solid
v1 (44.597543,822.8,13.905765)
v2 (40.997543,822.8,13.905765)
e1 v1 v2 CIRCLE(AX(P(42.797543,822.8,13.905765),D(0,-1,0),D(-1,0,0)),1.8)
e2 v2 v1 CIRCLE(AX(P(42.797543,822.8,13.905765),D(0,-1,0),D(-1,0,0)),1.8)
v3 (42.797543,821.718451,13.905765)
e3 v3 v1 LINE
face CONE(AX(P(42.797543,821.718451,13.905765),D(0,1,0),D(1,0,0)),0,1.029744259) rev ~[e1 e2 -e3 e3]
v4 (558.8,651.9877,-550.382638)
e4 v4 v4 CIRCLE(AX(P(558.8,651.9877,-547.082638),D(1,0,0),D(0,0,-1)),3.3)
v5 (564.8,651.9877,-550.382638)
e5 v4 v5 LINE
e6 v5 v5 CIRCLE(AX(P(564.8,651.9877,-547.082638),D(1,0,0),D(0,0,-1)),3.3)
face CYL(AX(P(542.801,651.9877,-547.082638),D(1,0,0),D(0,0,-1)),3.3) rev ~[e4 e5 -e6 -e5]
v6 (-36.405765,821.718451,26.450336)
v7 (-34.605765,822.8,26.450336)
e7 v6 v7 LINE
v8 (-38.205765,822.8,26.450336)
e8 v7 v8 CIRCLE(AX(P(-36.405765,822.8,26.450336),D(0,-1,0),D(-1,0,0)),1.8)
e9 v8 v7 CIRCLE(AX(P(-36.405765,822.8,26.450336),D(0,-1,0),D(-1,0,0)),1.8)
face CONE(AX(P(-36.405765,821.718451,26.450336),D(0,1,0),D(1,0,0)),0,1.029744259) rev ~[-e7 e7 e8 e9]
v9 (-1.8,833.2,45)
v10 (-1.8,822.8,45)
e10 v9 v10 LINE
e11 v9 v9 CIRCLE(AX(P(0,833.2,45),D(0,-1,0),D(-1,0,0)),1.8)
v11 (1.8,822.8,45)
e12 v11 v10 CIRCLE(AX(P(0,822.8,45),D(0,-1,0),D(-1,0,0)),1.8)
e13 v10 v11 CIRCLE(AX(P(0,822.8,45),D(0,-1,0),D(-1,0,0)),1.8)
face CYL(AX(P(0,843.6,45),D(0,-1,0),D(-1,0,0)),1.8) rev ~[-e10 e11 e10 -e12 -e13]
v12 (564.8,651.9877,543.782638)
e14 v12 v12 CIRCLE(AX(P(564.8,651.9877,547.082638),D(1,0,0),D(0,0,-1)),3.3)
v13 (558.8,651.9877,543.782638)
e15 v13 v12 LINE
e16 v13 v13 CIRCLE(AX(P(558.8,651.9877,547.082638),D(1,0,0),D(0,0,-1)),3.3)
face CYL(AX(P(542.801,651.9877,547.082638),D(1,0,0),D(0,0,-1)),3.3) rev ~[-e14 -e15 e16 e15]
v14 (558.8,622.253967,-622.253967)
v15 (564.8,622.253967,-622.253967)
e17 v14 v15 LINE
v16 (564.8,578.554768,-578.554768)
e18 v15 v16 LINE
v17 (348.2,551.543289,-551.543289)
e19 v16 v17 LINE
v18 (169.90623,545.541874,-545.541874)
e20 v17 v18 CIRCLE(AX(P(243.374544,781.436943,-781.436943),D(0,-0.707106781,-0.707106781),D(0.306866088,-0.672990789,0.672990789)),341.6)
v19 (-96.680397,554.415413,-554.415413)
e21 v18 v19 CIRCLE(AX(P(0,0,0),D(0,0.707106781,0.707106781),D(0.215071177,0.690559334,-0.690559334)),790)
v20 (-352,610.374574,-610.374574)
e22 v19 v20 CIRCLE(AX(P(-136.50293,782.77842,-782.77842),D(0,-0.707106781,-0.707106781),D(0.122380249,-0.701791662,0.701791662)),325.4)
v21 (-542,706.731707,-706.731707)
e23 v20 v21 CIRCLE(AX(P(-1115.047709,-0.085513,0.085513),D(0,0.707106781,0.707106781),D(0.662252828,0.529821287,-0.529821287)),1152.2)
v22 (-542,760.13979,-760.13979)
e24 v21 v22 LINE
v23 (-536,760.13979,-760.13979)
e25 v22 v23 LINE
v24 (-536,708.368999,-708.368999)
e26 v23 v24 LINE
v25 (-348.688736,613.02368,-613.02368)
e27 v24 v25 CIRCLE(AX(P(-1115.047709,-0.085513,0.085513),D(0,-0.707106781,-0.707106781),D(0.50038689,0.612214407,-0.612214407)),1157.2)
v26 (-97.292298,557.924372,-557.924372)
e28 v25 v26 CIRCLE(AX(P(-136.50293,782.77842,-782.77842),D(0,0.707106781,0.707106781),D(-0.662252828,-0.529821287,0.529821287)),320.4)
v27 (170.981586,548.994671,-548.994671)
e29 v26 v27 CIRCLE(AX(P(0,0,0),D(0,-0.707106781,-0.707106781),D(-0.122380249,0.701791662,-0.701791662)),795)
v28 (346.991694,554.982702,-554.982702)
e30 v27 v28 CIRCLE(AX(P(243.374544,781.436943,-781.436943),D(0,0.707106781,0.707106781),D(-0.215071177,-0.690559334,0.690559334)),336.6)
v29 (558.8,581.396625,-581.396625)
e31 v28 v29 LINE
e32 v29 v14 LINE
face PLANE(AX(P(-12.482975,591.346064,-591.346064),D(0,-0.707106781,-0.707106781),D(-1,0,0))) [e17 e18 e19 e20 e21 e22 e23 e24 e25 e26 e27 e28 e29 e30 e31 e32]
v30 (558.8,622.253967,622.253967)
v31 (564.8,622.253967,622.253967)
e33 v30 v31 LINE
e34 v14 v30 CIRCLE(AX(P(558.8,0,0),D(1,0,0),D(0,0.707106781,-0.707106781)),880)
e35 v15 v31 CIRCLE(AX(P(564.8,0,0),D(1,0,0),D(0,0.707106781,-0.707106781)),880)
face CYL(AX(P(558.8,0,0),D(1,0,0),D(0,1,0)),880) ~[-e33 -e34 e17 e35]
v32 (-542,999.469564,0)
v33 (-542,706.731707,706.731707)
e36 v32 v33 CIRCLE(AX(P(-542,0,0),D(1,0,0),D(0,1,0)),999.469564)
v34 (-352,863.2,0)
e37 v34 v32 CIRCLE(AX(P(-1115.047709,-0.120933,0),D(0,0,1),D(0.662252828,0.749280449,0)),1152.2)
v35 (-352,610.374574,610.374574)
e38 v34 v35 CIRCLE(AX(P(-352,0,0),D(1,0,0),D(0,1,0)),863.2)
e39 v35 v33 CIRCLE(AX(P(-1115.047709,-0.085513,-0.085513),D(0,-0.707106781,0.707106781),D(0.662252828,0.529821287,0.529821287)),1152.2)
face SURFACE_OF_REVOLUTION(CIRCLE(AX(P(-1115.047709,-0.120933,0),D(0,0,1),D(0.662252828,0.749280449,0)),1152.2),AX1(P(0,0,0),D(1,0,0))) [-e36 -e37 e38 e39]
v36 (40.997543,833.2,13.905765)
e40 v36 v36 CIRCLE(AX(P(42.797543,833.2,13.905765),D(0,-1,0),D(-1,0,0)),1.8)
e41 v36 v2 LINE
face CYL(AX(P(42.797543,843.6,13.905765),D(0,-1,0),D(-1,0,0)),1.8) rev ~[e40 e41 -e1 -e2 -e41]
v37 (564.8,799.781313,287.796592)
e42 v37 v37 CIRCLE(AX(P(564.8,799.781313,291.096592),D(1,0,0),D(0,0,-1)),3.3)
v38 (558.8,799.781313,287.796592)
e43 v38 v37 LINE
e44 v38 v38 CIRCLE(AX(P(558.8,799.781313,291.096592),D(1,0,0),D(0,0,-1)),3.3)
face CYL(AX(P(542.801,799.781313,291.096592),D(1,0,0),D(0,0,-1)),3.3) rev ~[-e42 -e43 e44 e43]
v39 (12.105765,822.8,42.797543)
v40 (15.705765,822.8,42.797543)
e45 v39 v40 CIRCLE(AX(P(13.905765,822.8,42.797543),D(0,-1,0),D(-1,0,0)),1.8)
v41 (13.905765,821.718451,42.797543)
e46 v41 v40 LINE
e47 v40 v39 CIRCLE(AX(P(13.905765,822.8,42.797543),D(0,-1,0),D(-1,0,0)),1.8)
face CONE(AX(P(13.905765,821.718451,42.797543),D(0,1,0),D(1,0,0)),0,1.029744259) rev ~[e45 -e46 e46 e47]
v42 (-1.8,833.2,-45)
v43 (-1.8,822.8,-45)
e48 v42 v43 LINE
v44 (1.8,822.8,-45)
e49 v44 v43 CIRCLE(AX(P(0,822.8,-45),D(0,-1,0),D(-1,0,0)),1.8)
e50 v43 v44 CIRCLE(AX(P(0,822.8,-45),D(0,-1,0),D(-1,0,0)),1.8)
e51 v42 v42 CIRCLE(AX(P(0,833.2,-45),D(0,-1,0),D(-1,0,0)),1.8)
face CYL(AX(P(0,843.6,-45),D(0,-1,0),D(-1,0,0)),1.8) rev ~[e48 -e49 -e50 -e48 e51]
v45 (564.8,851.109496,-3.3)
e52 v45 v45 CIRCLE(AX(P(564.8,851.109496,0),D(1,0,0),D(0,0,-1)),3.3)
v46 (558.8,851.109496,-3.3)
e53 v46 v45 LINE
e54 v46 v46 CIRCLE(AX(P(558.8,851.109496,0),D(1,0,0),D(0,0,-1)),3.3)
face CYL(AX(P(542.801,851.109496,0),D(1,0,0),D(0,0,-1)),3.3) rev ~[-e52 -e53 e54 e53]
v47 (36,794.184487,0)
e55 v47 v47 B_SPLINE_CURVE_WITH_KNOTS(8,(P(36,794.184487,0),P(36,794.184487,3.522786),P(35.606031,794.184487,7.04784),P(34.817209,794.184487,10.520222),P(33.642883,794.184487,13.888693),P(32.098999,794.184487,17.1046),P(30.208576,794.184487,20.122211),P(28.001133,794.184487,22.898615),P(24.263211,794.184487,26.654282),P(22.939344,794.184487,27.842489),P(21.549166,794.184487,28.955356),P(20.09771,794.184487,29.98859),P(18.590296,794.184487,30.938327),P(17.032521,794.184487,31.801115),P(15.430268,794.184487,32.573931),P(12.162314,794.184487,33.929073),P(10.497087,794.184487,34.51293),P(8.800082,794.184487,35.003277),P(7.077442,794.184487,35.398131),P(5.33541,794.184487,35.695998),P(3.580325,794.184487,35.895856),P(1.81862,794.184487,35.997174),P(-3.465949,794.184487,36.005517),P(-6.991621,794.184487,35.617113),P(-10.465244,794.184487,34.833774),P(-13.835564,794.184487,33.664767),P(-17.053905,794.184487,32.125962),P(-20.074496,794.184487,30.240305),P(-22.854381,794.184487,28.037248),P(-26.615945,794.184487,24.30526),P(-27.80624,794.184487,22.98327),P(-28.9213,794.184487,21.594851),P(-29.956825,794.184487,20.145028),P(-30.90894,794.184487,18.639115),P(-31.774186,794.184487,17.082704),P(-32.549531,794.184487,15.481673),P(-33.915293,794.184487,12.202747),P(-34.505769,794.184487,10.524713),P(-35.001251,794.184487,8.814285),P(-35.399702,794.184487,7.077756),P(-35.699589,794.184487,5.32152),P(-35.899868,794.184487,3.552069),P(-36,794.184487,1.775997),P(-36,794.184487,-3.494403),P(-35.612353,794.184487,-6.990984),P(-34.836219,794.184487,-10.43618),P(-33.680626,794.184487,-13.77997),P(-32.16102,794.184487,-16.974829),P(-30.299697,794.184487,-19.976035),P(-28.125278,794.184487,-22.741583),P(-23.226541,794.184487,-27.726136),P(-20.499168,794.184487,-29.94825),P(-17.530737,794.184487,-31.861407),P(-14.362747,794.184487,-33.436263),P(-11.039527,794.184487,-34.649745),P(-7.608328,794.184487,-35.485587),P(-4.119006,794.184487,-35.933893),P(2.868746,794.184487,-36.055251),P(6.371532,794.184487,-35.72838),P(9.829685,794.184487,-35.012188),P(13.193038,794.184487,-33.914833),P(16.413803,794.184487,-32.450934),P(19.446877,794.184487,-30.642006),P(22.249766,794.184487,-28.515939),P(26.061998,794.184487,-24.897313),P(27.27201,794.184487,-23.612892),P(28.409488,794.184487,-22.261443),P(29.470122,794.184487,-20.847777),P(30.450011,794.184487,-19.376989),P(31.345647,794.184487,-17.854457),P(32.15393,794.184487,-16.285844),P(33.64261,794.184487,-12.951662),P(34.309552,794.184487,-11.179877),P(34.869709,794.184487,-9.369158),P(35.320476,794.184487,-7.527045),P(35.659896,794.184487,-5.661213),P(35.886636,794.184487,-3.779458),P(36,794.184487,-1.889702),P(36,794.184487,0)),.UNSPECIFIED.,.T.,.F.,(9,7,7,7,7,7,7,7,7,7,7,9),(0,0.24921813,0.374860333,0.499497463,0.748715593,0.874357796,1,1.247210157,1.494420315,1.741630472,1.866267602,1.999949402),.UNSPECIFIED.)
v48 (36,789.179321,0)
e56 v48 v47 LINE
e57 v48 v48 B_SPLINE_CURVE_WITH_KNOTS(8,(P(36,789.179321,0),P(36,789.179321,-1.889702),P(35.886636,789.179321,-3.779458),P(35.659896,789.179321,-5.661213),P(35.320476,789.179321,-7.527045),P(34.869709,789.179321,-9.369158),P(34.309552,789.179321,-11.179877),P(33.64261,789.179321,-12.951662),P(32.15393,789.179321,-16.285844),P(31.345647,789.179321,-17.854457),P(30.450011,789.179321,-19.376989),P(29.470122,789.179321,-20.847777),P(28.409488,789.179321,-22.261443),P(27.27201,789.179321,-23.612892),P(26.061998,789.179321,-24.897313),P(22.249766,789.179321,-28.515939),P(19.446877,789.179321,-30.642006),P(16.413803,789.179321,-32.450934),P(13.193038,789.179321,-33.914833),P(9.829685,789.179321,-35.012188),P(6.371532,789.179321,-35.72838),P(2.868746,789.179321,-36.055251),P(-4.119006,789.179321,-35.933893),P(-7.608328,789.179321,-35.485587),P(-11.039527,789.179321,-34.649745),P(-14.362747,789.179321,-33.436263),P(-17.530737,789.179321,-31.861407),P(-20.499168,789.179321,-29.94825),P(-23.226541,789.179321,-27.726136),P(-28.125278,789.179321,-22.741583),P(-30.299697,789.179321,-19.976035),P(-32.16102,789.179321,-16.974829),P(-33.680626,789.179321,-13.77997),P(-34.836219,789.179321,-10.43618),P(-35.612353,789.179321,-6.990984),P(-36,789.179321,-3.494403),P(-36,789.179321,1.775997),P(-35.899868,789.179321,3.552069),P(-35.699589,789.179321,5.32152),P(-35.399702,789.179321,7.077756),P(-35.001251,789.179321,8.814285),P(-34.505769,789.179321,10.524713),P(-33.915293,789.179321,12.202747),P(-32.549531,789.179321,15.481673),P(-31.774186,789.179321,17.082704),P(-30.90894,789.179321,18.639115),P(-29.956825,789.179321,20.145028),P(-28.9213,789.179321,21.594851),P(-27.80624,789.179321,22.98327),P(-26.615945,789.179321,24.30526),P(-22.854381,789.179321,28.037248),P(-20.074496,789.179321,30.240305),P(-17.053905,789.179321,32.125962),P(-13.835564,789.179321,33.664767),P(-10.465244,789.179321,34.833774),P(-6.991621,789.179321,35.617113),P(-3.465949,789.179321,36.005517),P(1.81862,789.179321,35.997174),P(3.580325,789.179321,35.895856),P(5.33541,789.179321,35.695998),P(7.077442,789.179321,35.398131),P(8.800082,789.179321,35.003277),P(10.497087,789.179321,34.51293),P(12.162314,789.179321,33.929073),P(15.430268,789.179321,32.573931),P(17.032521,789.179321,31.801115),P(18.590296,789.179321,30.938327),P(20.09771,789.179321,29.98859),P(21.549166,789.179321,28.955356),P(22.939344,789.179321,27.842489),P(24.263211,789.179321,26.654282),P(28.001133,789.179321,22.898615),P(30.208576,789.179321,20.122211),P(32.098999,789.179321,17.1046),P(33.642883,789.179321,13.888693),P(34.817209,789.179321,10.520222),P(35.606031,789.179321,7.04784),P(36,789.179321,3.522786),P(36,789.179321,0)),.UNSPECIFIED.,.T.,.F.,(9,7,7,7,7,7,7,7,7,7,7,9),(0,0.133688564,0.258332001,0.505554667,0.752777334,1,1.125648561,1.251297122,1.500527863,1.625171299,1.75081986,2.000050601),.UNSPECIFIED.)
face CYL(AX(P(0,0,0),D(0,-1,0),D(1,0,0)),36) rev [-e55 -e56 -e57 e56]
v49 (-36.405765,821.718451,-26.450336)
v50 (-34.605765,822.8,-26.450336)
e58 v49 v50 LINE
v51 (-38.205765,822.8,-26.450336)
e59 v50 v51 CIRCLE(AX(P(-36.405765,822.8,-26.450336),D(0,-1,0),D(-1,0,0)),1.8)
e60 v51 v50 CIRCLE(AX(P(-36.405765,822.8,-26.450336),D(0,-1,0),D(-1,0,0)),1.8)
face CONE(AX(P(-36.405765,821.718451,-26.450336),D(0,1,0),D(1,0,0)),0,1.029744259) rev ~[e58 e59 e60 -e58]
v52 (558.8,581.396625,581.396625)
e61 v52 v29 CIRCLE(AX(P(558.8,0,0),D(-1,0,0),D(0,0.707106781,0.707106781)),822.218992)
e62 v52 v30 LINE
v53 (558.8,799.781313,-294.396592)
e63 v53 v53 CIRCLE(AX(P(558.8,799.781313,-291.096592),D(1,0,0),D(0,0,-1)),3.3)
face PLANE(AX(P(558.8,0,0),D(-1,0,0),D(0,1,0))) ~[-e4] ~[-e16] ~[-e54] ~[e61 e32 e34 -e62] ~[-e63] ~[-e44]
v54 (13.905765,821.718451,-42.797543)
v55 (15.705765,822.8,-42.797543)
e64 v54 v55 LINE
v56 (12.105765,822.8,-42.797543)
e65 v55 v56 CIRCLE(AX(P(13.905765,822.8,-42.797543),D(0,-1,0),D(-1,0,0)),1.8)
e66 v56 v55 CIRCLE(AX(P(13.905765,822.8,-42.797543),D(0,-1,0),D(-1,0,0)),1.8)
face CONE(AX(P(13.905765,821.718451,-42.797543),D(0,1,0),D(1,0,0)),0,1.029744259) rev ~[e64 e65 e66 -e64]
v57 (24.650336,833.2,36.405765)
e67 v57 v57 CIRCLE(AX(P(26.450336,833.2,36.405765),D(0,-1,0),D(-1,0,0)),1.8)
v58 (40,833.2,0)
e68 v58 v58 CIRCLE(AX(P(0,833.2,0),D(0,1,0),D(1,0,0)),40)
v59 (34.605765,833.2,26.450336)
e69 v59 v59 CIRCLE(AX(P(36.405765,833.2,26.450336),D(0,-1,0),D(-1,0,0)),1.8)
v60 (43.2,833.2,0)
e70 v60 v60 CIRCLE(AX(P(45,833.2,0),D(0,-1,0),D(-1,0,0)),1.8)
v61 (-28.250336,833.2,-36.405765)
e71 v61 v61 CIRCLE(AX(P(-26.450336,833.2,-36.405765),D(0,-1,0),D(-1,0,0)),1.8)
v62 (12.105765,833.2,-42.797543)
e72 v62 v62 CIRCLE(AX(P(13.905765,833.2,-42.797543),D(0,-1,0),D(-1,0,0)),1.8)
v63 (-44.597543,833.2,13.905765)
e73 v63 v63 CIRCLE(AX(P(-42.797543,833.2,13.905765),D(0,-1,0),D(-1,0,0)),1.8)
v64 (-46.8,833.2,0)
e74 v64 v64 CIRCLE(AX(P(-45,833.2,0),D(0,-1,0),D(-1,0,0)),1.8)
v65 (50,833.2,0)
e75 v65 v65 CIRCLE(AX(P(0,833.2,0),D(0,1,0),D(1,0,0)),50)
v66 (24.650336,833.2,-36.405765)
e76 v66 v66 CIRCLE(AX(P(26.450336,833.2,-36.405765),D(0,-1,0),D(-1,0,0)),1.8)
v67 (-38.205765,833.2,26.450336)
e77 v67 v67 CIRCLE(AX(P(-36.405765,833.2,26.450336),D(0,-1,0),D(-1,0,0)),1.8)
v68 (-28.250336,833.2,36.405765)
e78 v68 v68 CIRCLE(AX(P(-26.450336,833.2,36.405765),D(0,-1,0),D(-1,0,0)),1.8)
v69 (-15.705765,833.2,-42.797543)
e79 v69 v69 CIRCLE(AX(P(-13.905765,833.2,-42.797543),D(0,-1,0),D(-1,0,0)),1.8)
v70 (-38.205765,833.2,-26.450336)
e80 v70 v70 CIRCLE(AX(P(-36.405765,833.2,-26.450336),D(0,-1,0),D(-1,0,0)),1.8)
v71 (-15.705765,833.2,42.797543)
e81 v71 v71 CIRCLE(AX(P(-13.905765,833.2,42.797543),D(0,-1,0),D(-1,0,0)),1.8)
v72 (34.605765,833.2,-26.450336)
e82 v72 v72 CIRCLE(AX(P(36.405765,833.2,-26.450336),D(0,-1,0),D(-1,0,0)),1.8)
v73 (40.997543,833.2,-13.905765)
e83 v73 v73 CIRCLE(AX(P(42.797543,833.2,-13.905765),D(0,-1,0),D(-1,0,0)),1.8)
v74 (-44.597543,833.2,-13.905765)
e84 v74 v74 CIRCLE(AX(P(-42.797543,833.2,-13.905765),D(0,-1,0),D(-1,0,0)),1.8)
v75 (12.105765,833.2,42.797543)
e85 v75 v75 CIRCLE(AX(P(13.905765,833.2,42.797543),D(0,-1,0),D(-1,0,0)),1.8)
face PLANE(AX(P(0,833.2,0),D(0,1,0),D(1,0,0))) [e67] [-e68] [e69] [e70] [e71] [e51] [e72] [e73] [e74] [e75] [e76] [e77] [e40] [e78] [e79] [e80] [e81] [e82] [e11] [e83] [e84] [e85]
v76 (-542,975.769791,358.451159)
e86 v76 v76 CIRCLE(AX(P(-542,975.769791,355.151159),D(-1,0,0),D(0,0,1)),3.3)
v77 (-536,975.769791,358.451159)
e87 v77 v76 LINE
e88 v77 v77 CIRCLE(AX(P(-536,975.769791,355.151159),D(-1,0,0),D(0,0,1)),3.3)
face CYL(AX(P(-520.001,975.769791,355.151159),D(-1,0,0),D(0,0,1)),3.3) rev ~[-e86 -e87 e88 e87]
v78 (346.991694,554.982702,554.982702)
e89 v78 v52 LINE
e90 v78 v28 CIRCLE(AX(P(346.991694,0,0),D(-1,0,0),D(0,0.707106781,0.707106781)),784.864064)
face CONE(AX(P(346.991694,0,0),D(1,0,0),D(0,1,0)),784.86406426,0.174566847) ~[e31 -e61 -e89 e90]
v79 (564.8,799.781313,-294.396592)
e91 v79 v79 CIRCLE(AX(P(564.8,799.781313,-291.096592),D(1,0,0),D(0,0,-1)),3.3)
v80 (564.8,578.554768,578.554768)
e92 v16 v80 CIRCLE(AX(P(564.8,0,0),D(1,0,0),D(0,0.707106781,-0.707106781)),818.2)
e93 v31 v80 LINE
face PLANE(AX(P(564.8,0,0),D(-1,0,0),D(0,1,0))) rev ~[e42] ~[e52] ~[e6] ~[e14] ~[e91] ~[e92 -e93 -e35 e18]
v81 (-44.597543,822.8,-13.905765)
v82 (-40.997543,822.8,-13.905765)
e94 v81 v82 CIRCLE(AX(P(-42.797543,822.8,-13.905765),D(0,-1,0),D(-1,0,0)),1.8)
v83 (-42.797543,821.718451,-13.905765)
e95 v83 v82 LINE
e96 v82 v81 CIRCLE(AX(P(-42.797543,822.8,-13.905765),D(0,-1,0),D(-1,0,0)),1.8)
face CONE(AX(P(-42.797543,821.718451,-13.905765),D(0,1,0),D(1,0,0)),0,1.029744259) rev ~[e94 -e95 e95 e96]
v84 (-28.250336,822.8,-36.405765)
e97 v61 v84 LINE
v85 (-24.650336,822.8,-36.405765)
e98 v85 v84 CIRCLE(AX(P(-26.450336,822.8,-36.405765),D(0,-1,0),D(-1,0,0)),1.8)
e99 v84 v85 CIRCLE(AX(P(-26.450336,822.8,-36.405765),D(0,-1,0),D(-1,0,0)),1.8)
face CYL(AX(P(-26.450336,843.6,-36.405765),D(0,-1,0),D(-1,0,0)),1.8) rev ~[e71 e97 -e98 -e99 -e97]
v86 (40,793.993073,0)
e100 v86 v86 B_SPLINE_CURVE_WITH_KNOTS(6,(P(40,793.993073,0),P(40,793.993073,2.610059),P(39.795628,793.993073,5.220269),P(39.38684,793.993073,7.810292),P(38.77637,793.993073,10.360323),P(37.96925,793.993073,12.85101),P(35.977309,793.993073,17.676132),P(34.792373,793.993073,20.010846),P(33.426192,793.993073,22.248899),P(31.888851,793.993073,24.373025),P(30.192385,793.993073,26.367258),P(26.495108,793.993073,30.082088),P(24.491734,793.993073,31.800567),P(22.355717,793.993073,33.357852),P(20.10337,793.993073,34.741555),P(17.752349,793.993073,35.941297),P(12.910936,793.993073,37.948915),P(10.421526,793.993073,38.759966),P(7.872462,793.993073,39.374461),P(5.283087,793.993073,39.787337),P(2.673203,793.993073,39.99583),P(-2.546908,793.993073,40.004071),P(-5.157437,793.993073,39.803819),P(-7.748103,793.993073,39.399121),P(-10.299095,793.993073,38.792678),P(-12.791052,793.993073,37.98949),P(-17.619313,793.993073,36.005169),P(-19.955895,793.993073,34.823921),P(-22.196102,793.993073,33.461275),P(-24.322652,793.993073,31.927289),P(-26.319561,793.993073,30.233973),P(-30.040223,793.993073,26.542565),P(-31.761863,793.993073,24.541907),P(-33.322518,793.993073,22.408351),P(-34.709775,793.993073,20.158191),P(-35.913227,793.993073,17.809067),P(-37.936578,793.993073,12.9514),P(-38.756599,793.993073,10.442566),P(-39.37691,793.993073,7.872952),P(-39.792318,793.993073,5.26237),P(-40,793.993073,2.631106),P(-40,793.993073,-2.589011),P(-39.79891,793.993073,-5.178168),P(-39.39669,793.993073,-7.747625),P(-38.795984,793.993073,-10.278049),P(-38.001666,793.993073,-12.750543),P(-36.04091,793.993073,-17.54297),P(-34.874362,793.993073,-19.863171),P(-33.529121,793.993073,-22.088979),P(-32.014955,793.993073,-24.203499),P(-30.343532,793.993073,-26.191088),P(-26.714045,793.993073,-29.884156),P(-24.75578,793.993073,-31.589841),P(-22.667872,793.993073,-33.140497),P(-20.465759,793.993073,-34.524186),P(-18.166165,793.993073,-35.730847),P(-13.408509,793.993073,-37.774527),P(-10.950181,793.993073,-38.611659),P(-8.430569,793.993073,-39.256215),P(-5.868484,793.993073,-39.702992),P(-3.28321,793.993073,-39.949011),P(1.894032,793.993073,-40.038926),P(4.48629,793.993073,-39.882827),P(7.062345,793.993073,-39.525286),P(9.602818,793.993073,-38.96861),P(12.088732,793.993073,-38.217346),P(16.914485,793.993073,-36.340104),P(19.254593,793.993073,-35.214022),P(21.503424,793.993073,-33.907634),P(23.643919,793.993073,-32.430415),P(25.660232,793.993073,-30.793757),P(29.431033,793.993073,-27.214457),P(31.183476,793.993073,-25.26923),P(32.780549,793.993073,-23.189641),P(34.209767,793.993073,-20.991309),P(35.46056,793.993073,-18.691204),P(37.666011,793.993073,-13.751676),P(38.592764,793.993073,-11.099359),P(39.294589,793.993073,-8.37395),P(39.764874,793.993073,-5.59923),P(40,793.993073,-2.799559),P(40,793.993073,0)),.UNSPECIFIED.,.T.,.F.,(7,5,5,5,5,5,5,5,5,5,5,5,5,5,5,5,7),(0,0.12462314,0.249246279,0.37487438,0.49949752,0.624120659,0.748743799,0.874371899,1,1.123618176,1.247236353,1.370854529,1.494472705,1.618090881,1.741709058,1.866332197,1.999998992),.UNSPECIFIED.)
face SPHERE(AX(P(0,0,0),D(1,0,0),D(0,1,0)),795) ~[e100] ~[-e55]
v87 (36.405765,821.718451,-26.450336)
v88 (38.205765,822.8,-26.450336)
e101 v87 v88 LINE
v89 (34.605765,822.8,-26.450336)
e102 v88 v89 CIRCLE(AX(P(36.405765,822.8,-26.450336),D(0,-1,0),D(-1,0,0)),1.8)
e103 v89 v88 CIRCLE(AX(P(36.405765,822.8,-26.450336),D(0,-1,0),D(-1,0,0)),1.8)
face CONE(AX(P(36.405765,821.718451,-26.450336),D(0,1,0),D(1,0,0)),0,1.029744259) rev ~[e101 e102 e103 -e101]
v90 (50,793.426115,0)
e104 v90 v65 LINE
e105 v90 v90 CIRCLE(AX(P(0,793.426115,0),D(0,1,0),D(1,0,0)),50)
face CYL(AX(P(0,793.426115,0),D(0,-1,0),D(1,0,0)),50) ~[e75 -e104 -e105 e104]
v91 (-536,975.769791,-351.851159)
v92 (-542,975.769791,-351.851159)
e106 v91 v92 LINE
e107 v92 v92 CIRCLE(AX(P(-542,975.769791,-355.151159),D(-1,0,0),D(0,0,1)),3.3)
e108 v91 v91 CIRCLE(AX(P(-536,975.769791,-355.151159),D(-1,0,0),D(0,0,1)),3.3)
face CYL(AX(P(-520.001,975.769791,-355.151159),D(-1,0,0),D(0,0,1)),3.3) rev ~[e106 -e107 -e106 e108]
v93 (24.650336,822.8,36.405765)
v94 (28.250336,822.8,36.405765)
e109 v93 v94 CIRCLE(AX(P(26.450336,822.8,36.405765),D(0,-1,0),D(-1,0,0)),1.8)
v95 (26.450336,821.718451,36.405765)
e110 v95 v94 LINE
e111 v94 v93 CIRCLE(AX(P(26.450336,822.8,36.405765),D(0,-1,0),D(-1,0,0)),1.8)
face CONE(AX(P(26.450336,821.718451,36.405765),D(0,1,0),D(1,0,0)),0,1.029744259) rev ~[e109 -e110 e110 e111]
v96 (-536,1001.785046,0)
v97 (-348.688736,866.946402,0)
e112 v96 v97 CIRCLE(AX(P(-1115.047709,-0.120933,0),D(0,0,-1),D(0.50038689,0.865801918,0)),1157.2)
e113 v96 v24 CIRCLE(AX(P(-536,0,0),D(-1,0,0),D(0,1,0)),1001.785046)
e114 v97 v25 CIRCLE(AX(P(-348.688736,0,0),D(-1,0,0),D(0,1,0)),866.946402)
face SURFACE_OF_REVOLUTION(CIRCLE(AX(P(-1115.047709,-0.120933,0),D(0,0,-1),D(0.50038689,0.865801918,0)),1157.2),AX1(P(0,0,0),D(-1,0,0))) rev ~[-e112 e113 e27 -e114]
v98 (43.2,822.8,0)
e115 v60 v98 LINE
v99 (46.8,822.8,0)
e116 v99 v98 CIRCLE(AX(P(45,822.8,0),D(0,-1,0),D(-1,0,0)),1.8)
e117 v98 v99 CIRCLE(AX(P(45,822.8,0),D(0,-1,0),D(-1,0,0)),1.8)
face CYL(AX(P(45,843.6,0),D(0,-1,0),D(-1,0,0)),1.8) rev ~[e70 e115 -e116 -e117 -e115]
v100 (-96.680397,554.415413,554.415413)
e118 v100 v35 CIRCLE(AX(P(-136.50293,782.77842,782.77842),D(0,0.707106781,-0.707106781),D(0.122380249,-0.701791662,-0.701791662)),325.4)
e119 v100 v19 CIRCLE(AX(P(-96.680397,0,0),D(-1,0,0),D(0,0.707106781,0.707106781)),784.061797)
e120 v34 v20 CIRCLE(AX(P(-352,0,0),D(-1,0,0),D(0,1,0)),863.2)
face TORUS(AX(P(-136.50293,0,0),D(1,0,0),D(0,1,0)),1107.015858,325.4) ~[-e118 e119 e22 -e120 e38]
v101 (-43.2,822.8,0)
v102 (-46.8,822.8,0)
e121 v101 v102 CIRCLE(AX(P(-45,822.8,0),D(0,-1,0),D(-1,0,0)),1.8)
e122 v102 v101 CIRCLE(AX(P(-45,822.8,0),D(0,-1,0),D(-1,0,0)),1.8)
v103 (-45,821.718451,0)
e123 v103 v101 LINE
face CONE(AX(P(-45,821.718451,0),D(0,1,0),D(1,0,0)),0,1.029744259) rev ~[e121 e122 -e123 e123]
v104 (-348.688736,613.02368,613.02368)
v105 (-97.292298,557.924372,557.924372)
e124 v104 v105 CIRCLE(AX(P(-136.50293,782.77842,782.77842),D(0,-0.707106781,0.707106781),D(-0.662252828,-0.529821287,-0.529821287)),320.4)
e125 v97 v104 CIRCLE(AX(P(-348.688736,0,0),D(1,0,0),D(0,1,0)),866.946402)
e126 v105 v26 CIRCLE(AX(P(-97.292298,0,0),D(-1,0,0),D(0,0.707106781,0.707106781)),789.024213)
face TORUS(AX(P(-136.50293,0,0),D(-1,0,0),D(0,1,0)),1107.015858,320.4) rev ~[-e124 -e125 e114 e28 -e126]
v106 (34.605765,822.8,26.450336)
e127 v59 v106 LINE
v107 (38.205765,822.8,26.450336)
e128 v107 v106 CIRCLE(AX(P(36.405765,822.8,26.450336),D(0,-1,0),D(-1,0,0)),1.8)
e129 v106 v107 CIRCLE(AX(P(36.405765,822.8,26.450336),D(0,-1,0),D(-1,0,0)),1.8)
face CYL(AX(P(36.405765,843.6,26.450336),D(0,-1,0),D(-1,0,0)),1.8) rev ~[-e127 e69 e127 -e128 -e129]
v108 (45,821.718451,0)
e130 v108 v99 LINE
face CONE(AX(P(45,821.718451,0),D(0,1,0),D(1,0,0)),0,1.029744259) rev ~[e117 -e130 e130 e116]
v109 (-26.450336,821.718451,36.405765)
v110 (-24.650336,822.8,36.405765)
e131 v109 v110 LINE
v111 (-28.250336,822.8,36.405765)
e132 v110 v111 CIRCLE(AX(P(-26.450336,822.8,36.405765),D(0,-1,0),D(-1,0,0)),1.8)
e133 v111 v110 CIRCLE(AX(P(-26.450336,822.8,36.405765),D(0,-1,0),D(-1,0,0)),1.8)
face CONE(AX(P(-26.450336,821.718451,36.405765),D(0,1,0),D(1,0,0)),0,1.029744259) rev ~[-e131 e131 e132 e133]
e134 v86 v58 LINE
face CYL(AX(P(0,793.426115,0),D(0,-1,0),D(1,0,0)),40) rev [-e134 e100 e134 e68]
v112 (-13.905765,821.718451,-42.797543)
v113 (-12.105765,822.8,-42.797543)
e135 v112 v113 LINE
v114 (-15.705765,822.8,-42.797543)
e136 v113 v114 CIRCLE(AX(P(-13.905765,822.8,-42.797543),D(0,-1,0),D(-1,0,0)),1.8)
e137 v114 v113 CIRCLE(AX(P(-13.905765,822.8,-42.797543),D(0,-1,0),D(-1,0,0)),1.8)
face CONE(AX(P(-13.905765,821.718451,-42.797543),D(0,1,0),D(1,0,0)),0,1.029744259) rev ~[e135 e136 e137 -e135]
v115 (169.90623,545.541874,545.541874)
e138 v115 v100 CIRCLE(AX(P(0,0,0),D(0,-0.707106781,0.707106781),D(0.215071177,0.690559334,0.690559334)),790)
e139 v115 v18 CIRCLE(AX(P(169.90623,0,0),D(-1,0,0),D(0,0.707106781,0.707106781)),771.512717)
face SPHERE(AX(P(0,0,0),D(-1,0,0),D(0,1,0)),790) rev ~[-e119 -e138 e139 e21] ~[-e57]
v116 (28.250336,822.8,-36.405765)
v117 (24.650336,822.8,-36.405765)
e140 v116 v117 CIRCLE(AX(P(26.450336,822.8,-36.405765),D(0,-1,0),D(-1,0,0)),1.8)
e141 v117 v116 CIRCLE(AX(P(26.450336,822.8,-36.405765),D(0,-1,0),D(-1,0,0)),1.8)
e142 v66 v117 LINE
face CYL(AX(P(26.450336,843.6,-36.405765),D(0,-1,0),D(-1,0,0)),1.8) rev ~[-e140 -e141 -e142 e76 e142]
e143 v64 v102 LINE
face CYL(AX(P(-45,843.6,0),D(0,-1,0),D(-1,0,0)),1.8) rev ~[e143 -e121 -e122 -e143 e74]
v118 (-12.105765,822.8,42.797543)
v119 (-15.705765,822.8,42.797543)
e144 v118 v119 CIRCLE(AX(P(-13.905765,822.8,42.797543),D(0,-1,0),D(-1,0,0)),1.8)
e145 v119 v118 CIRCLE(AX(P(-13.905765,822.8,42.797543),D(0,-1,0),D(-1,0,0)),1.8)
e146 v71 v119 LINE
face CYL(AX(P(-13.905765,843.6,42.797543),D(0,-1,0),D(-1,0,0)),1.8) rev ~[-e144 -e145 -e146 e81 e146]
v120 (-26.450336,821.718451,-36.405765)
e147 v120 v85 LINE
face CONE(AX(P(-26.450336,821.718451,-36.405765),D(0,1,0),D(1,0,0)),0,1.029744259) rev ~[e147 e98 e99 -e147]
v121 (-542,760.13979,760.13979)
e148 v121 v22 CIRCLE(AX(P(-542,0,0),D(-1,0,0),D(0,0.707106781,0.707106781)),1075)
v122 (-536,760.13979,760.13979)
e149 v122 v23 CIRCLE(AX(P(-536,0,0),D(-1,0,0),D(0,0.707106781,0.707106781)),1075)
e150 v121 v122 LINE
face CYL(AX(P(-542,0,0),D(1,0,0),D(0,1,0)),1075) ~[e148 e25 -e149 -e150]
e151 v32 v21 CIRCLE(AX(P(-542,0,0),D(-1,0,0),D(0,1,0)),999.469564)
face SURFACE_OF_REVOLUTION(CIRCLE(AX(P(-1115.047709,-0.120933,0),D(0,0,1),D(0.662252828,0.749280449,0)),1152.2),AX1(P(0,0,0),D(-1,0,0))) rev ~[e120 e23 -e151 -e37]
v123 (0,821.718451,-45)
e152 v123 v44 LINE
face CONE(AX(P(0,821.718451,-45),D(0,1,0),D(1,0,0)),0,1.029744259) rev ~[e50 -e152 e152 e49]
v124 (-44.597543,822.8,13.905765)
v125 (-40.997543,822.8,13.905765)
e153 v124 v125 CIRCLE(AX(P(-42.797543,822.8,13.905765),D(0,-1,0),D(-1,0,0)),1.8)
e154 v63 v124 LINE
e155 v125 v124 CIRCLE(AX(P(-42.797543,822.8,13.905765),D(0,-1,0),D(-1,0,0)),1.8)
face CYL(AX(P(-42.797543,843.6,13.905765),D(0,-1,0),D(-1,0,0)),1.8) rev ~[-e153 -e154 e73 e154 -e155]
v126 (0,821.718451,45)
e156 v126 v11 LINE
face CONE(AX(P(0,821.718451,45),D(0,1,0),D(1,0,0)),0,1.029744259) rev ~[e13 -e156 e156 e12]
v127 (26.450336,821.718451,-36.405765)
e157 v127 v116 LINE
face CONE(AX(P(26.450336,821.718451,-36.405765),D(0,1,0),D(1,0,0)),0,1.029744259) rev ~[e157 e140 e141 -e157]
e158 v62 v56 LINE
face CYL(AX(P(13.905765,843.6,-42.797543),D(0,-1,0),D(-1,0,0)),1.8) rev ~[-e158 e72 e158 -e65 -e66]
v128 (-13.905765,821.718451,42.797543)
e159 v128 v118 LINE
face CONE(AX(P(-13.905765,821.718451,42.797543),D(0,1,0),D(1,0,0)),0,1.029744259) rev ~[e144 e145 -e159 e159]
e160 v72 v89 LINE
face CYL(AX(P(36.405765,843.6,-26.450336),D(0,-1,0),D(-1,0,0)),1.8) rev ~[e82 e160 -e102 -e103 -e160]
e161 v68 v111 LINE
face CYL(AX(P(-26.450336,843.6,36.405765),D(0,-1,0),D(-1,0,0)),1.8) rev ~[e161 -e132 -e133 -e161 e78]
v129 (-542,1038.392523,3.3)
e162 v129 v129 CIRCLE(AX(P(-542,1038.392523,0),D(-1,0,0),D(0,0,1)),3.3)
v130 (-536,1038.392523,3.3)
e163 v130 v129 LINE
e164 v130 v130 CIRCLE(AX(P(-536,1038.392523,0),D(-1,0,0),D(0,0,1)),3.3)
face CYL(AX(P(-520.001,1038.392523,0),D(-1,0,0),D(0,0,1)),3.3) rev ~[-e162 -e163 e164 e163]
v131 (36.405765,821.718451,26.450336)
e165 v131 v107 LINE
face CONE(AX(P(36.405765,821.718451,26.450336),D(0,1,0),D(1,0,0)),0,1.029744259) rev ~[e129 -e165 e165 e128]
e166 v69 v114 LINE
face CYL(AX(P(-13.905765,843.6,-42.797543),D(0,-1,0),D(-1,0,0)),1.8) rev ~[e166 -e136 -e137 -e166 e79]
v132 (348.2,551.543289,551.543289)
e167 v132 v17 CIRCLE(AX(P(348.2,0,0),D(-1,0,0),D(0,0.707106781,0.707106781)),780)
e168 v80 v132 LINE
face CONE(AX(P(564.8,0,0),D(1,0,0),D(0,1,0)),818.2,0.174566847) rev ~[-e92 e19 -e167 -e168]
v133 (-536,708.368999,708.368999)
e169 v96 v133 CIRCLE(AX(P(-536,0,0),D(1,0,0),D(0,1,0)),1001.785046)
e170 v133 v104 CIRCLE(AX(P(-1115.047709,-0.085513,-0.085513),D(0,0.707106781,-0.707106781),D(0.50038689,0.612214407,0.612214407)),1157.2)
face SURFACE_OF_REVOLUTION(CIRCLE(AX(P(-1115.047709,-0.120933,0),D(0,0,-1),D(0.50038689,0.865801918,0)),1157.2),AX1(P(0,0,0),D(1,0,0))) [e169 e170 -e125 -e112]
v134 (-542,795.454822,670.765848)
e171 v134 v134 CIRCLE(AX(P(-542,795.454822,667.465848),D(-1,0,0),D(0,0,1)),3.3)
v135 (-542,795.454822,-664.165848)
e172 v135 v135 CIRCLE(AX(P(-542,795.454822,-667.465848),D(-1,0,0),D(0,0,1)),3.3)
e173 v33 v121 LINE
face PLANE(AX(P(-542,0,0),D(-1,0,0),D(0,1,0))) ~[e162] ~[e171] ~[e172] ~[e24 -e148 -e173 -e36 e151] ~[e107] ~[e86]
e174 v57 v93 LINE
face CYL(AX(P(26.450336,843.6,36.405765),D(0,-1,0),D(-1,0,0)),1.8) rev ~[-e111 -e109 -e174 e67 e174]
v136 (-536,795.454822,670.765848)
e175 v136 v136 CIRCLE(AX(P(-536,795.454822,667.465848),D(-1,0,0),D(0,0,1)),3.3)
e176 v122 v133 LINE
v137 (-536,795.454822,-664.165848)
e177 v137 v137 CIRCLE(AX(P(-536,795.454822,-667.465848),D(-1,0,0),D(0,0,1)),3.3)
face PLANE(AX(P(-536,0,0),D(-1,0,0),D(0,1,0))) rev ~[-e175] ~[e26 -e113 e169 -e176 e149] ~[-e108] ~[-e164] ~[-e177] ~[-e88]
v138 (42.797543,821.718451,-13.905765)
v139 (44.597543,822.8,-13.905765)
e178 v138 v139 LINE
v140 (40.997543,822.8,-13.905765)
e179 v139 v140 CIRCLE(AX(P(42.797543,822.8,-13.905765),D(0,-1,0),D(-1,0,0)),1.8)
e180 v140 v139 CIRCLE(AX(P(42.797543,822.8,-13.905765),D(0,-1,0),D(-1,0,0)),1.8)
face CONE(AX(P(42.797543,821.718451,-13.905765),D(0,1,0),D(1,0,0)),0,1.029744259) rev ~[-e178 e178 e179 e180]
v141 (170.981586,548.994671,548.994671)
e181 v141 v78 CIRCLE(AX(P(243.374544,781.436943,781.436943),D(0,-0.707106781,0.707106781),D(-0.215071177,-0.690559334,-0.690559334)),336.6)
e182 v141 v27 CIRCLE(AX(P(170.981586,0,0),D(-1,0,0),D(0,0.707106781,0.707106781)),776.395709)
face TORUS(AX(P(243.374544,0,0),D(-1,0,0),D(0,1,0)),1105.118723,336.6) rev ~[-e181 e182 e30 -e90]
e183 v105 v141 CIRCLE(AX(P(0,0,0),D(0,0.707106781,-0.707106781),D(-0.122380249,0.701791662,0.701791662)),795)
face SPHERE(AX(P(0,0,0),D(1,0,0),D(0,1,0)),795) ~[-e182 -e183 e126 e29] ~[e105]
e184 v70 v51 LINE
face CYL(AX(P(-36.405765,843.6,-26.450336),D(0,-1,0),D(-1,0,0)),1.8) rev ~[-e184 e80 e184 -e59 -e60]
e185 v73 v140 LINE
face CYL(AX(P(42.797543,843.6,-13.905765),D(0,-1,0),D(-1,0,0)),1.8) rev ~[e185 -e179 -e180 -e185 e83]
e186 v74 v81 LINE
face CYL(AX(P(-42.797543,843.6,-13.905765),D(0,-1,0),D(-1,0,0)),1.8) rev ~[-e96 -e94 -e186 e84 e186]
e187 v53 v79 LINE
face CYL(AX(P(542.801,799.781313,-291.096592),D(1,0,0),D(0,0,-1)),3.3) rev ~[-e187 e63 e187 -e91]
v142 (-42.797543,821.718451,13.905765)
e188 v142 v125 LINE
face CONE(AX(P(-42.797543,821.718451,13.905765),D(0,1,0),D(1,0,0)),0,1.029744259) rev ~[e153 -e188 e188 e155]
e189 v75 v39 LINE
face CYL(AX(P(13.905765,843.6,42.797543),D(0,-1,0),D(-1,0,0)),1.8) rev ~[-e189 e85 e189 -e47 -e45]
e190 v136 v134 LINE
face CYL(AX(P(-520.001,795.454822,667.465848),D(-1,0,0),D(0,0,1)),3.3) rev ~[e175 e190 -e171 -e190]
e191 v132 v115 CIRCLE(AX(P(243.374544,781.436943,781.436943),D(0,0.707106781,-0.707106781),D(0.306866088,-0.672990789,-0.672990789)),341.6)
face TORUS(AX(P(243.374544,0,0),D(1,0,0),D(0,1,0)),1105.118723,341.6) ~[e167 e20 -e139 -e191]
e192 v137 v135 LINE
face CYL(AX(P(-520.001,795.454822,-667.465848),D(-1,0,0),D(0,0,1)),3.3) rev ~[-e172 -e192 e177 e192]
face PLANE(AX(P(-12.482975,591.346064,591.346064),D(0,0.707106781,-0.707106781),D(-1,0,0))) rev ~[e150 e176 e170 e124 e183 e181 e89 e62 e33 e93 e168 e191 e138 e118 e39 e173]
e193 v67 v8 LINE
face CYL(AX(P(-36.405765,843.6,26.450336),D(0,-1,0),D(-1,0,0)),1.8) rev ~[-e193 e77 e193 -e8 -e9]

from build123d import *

# Parameters (mm, degrees)
REVOLU_O1_ANGLE                               = 45
REVOLU_O1_OTHER_WAY_ANGLE                     = 45
ESBO_O2_R                                     = 180
CORTE_EXTRUS_O1_DEPTH                         = 5376
RESSALTO_EXTRUS_O1_START                      = 3967.130575
ESBO_O3_R                                     = 250
ESBO_O3_R_2                                   = 200
RESSALTO_EXTRUS_O1_DEPTH                      = 198.869425
BROCA_DE_ROSQUEAR_PARA_TARRAXA_DE_M20X2_D     = 18
BROCA_DE_ROSQUEAR_PARA_TARRAXA_DE_M20X2_DEPTH = 52
BROCA_DE_ROSQUEAR_PARA_TARRAXA_DE_M20X2_TIP   = 5.407745571
ESCALA1_SCALE                                 = 0.2
FURO_COM_FOLGA_DE_M62_D                       = 6.6
FURO_COM_FOLGA_DE_M62_DEPTH                   = 15.999
FURO_COM_FOLGA_DE_M62_TIP                     = 1.982840043
FURO_COM_FOLGA_DE_M63_D                       = 6.6
FURO_COM_FOLGA_DE_M63_DEPTH                   = 15.999
FURO_COM_FOLGA_DE_M63_TIP                     = 1.982840043


with BuildPart() as part:
    # Esboço1 → Revolução1 (revolve)
    with BuildSketch(Plane.XY):
        with BuildLine():
            Line((2824, 4091), (1741, 3900))
            ThreePointArc((1741, 3900), (1298.086339896, 3819.525517366), (849.531150477, 3857.563586562))
            ThreePointArc((849.531150477, 3857.563586562), (185.73337866, 3945.630888977), (-483.40198336, 3920.308983037))
            ThreePointArc((-483.40198336, 3920.308983037), (-1164.206966535, 3981.019603768), (-1760, 4316))
            ThreePointArc((-1760, 4316), (-2217.672127008, 4680.834081254), (-2710, 4997.347822123))
            Line((-2710, 4997.347822123), (-2710, 5375))
            Line((-2710, 5375), (-2680, 5375))
            Line((-2680, 5375), (-2680, 5008.9252282))
            ThreePointArc((-2680, 5008.9252282), (-2194.871885791, 4695.23575344), (-1743.443679293, 4334.732011228))
            ThreePointArc((-1743.443679293, 4334.732011228), (-1156.805425076, 4004.898824526), (-486.461489584, 3945.121065209))
            ThreePointArc((-486.461489584, 3945.121065209), (186.908906373, 3970.603236376), (854.907929911, 3881.978545971))
            ThreePointArc((854.907929911, 3881.978545971), (1297.753157153, 3844.538184437), (1734.958471166, 3924.320321302))
            Line((1734.958471166, 3924.320321302), (2794, 4111.094958427))
            Line((2794, 4111.094958427), (2794, 4400))
            Line((2794, 4400), (2824, 4400))
            Line((2824, 4400), (2824, 4115.620046549))
            Line((2824, 4115.620046549), (2824, 4091))
        make_face()
    revolve(axis=Axis((0, 0, 0), (1, 0, 0)), revolution_arc=REVOLU_O1_ANGLE)

    # Esboço1 → Revolução1 other way (revolve)
    with BuildSketch(Plane.XY):
        with BuildLine():
            Line((2824, 4091), (1741, 3900))
            ThreePointArc((1741, 3900), (1298.086339896, 3819.525517366), (849.531150477, 3857.563586562))
            ThreePointArc((849.531150477, 3857.563586562), (185.73337866, 3945.630888977), (-483.40198336, 3920.308983037))
            ThreePointArc((-483.40198336, 3920.308983037), (-1164.206966535, 3981.019603768), (-1760, 4316))
            ThreePointArc((-1760, 4316), (-2217.672127008, 4680.834081254), (-2710, 4997.347822123))
            Line((-2710, 4997.347822123), (-2710, 5375))
            Line((-2710, 5375), (-2680, 5375))
            Line((-2680, 5375), (-2680, 5008.9252282))
            ThreePointArc((-2680, 5008.9252282), (-2194.871885791, 4695.23575344), (-1743.443679293, 4334.732011228))
            ThreePointArc((-1743.443679293, 4334.732011228), (-1156.805425076, 4004.898824526), (-486.461489584, 3945.121065209))
            ThreePointArc((-486.461489584, 3945.121065209), (186.908906373, 3970.603236376), (854.907929911, 3881.978545971))
            ThreePointArc((854.907929911, 3881.978545971), (1297.753157153, 3844.538184437), (1734.958471166, 3924.320321302))
            Line((1734.958471166, 3924.320321302), (2794, 4111.094958427))
            Line((2794, 4111.094958427), (2794, 4400))
            Line((2794, 4400), (2824, 4400))
            Line((2824, 4400), (2824, 4115.620046549))
            Line((2824, 4115.620046549), (2824, 4091))
        make_face()
    revolve(axis=Axis((0, 0, 0), (-1, 0, 0)), revolution_arc=REVOLU_O1_OTHER_WAY_ANGLE)

    # Esboço2 → Corte-extrusão1 (cut, through all)
    with BuildSketch(Plane(origin=(0, 0, 0), x_dir=(1, 0, 0), z_dir=(0, 1, 0))):
        Circle(ESBO_O2_R)
    extrude(amount=CORTE_EXTRUS_O1_DEPTH, mode=Mode.SUBTRACT)

    # Esboço3 → Ressalto-extrusão1 (add)
    with BuildSketch(Plane(origin=(0, 0, 0), x_dir=(1, 0, 0), z_dir=(0, 1, 0)).offset(RESSALTO_EXTRUS_O1_START)):
        Circle(ESBO_O3_R)
        Circle(ESBO_O3_R_2, mode=Mode.SUBTRACT)
    extrude(amount=RESSALTO_EXTRUS_O1_DEPTH)

    # Broca de rosquear para tarraxa de M20x2.01
    with Locations(Plane(origin=(0, 4166, 0), x_dir=(1, 0, 0), z_dir=(0, 1, 0))):
        with Locations((0, 225), (69.528823734, 213.987716166), (132.251681766, 182.028823734), (182.028823734, 132.251681766), (213.987716166, 69.528823734), (225, 0), (213.987716166, -69.528823734), (182.028823734, -132.251681766), (132.251681766, -182.028823734), (69.528823734, -213.987716166), (0, -225), (-69.528823734, -213.987716166), (-132.251681766, -182.028823734), (-182.028823734, -132.251681766), (-213.987716166, -69.528823734), (-225, 0), (-213.987716166, 69.528823734), (-182.028823734, 132.251681766), (-132.251681766, 182.028823734), (-69.528823734, 213.987716166), (0, 0)):
            Hole(BROCA_DE_ROSQUEAR_PARA_TARRAXA_DE_M20X2_D / 2, depth=BROCA_DE_ROSQUEAR_PARA_TARRAXA_DE_M20X2_DEPTH)
            with Locations((0, 0, -(BROCA_DE_ROSQUEAR_PARA_TARRAXA_DE_M20X2_DEPTH + BROCA_DE_ROSQUEAR_PARA_TARRAXA_DE_M20X2_TIP / 2))):  # 118° drill point
                Cone(0, BROCA_DE_ROSQUEAR_PARA_TARRAXA_DE_M20X2_D / 2, BROCA_DE_ROSQUEAR_PARA_TARRAXA_DE_M20X2_TIP, mode=Mode.SUBTRACT)


with BuildPart() as part_1:
    # Escala1: scaled about (0, 0, 0)
    add(part.part.scale(ESCALA1_SCALE))

    # Furo com folga de M62
    with Locations(Plane(origin=(-536, 0, 0), x_dir=(0, 0, -1), z_dir=(1, 0, 0))):
        with Locations((0, 1038.39252282), (355.151159483, 975.769791173), (667.46584766, 795.454821883), (-355.151159483, 975.769791173), (-667.46584766, 795.454821883)):
            Hole(FURO_COM_FOLGA_DE_M62_D / 2, depth=FURO_COM_FOLGA_DE_M62_DEPTH)
            with Locations((0, 0, -(FURO_COM_FOLGA_DE_M62_DEPTH + FURO_COM_FOLGA_DE_M62_TIP / 2))):  # 118° drill point
                Cone(0, FURO_COM_FOLGA_DE_M62_D / 2, FURO_COM_FOLGA_DE_M62_TIP, mode=Mode.SUBTRACT)

    # Furo com folga de M63
    with Locations(Plane.ZY.offset(-558.8)):
        with Locations((0, 851.109495843), (291.096591754, 799.781312724), (547.082638414, 651.987699776), (-291.096591754, 799.781312724), (-547.082638414, 651.987699776)):
            Hole(FURO_COM_FOLGA_DE_M63_D / 2, depth=FURO_COM_FOLGA_DE_M63_DEPTH)
            with Locations((0, 0, -(FURO_COM_FOLGA_DE_M63_DEPTH + FURO_COM_FOLGA_DE_M63_TIP / 2))):  # 118° drill point
                Cone(0, FURO_COM_FOLGA_DE_M63_D / 2, FURO_COM_FOLGA_DE_M63_TIP, mode=Mode.SUBTRACT)


solid = part_1.part
